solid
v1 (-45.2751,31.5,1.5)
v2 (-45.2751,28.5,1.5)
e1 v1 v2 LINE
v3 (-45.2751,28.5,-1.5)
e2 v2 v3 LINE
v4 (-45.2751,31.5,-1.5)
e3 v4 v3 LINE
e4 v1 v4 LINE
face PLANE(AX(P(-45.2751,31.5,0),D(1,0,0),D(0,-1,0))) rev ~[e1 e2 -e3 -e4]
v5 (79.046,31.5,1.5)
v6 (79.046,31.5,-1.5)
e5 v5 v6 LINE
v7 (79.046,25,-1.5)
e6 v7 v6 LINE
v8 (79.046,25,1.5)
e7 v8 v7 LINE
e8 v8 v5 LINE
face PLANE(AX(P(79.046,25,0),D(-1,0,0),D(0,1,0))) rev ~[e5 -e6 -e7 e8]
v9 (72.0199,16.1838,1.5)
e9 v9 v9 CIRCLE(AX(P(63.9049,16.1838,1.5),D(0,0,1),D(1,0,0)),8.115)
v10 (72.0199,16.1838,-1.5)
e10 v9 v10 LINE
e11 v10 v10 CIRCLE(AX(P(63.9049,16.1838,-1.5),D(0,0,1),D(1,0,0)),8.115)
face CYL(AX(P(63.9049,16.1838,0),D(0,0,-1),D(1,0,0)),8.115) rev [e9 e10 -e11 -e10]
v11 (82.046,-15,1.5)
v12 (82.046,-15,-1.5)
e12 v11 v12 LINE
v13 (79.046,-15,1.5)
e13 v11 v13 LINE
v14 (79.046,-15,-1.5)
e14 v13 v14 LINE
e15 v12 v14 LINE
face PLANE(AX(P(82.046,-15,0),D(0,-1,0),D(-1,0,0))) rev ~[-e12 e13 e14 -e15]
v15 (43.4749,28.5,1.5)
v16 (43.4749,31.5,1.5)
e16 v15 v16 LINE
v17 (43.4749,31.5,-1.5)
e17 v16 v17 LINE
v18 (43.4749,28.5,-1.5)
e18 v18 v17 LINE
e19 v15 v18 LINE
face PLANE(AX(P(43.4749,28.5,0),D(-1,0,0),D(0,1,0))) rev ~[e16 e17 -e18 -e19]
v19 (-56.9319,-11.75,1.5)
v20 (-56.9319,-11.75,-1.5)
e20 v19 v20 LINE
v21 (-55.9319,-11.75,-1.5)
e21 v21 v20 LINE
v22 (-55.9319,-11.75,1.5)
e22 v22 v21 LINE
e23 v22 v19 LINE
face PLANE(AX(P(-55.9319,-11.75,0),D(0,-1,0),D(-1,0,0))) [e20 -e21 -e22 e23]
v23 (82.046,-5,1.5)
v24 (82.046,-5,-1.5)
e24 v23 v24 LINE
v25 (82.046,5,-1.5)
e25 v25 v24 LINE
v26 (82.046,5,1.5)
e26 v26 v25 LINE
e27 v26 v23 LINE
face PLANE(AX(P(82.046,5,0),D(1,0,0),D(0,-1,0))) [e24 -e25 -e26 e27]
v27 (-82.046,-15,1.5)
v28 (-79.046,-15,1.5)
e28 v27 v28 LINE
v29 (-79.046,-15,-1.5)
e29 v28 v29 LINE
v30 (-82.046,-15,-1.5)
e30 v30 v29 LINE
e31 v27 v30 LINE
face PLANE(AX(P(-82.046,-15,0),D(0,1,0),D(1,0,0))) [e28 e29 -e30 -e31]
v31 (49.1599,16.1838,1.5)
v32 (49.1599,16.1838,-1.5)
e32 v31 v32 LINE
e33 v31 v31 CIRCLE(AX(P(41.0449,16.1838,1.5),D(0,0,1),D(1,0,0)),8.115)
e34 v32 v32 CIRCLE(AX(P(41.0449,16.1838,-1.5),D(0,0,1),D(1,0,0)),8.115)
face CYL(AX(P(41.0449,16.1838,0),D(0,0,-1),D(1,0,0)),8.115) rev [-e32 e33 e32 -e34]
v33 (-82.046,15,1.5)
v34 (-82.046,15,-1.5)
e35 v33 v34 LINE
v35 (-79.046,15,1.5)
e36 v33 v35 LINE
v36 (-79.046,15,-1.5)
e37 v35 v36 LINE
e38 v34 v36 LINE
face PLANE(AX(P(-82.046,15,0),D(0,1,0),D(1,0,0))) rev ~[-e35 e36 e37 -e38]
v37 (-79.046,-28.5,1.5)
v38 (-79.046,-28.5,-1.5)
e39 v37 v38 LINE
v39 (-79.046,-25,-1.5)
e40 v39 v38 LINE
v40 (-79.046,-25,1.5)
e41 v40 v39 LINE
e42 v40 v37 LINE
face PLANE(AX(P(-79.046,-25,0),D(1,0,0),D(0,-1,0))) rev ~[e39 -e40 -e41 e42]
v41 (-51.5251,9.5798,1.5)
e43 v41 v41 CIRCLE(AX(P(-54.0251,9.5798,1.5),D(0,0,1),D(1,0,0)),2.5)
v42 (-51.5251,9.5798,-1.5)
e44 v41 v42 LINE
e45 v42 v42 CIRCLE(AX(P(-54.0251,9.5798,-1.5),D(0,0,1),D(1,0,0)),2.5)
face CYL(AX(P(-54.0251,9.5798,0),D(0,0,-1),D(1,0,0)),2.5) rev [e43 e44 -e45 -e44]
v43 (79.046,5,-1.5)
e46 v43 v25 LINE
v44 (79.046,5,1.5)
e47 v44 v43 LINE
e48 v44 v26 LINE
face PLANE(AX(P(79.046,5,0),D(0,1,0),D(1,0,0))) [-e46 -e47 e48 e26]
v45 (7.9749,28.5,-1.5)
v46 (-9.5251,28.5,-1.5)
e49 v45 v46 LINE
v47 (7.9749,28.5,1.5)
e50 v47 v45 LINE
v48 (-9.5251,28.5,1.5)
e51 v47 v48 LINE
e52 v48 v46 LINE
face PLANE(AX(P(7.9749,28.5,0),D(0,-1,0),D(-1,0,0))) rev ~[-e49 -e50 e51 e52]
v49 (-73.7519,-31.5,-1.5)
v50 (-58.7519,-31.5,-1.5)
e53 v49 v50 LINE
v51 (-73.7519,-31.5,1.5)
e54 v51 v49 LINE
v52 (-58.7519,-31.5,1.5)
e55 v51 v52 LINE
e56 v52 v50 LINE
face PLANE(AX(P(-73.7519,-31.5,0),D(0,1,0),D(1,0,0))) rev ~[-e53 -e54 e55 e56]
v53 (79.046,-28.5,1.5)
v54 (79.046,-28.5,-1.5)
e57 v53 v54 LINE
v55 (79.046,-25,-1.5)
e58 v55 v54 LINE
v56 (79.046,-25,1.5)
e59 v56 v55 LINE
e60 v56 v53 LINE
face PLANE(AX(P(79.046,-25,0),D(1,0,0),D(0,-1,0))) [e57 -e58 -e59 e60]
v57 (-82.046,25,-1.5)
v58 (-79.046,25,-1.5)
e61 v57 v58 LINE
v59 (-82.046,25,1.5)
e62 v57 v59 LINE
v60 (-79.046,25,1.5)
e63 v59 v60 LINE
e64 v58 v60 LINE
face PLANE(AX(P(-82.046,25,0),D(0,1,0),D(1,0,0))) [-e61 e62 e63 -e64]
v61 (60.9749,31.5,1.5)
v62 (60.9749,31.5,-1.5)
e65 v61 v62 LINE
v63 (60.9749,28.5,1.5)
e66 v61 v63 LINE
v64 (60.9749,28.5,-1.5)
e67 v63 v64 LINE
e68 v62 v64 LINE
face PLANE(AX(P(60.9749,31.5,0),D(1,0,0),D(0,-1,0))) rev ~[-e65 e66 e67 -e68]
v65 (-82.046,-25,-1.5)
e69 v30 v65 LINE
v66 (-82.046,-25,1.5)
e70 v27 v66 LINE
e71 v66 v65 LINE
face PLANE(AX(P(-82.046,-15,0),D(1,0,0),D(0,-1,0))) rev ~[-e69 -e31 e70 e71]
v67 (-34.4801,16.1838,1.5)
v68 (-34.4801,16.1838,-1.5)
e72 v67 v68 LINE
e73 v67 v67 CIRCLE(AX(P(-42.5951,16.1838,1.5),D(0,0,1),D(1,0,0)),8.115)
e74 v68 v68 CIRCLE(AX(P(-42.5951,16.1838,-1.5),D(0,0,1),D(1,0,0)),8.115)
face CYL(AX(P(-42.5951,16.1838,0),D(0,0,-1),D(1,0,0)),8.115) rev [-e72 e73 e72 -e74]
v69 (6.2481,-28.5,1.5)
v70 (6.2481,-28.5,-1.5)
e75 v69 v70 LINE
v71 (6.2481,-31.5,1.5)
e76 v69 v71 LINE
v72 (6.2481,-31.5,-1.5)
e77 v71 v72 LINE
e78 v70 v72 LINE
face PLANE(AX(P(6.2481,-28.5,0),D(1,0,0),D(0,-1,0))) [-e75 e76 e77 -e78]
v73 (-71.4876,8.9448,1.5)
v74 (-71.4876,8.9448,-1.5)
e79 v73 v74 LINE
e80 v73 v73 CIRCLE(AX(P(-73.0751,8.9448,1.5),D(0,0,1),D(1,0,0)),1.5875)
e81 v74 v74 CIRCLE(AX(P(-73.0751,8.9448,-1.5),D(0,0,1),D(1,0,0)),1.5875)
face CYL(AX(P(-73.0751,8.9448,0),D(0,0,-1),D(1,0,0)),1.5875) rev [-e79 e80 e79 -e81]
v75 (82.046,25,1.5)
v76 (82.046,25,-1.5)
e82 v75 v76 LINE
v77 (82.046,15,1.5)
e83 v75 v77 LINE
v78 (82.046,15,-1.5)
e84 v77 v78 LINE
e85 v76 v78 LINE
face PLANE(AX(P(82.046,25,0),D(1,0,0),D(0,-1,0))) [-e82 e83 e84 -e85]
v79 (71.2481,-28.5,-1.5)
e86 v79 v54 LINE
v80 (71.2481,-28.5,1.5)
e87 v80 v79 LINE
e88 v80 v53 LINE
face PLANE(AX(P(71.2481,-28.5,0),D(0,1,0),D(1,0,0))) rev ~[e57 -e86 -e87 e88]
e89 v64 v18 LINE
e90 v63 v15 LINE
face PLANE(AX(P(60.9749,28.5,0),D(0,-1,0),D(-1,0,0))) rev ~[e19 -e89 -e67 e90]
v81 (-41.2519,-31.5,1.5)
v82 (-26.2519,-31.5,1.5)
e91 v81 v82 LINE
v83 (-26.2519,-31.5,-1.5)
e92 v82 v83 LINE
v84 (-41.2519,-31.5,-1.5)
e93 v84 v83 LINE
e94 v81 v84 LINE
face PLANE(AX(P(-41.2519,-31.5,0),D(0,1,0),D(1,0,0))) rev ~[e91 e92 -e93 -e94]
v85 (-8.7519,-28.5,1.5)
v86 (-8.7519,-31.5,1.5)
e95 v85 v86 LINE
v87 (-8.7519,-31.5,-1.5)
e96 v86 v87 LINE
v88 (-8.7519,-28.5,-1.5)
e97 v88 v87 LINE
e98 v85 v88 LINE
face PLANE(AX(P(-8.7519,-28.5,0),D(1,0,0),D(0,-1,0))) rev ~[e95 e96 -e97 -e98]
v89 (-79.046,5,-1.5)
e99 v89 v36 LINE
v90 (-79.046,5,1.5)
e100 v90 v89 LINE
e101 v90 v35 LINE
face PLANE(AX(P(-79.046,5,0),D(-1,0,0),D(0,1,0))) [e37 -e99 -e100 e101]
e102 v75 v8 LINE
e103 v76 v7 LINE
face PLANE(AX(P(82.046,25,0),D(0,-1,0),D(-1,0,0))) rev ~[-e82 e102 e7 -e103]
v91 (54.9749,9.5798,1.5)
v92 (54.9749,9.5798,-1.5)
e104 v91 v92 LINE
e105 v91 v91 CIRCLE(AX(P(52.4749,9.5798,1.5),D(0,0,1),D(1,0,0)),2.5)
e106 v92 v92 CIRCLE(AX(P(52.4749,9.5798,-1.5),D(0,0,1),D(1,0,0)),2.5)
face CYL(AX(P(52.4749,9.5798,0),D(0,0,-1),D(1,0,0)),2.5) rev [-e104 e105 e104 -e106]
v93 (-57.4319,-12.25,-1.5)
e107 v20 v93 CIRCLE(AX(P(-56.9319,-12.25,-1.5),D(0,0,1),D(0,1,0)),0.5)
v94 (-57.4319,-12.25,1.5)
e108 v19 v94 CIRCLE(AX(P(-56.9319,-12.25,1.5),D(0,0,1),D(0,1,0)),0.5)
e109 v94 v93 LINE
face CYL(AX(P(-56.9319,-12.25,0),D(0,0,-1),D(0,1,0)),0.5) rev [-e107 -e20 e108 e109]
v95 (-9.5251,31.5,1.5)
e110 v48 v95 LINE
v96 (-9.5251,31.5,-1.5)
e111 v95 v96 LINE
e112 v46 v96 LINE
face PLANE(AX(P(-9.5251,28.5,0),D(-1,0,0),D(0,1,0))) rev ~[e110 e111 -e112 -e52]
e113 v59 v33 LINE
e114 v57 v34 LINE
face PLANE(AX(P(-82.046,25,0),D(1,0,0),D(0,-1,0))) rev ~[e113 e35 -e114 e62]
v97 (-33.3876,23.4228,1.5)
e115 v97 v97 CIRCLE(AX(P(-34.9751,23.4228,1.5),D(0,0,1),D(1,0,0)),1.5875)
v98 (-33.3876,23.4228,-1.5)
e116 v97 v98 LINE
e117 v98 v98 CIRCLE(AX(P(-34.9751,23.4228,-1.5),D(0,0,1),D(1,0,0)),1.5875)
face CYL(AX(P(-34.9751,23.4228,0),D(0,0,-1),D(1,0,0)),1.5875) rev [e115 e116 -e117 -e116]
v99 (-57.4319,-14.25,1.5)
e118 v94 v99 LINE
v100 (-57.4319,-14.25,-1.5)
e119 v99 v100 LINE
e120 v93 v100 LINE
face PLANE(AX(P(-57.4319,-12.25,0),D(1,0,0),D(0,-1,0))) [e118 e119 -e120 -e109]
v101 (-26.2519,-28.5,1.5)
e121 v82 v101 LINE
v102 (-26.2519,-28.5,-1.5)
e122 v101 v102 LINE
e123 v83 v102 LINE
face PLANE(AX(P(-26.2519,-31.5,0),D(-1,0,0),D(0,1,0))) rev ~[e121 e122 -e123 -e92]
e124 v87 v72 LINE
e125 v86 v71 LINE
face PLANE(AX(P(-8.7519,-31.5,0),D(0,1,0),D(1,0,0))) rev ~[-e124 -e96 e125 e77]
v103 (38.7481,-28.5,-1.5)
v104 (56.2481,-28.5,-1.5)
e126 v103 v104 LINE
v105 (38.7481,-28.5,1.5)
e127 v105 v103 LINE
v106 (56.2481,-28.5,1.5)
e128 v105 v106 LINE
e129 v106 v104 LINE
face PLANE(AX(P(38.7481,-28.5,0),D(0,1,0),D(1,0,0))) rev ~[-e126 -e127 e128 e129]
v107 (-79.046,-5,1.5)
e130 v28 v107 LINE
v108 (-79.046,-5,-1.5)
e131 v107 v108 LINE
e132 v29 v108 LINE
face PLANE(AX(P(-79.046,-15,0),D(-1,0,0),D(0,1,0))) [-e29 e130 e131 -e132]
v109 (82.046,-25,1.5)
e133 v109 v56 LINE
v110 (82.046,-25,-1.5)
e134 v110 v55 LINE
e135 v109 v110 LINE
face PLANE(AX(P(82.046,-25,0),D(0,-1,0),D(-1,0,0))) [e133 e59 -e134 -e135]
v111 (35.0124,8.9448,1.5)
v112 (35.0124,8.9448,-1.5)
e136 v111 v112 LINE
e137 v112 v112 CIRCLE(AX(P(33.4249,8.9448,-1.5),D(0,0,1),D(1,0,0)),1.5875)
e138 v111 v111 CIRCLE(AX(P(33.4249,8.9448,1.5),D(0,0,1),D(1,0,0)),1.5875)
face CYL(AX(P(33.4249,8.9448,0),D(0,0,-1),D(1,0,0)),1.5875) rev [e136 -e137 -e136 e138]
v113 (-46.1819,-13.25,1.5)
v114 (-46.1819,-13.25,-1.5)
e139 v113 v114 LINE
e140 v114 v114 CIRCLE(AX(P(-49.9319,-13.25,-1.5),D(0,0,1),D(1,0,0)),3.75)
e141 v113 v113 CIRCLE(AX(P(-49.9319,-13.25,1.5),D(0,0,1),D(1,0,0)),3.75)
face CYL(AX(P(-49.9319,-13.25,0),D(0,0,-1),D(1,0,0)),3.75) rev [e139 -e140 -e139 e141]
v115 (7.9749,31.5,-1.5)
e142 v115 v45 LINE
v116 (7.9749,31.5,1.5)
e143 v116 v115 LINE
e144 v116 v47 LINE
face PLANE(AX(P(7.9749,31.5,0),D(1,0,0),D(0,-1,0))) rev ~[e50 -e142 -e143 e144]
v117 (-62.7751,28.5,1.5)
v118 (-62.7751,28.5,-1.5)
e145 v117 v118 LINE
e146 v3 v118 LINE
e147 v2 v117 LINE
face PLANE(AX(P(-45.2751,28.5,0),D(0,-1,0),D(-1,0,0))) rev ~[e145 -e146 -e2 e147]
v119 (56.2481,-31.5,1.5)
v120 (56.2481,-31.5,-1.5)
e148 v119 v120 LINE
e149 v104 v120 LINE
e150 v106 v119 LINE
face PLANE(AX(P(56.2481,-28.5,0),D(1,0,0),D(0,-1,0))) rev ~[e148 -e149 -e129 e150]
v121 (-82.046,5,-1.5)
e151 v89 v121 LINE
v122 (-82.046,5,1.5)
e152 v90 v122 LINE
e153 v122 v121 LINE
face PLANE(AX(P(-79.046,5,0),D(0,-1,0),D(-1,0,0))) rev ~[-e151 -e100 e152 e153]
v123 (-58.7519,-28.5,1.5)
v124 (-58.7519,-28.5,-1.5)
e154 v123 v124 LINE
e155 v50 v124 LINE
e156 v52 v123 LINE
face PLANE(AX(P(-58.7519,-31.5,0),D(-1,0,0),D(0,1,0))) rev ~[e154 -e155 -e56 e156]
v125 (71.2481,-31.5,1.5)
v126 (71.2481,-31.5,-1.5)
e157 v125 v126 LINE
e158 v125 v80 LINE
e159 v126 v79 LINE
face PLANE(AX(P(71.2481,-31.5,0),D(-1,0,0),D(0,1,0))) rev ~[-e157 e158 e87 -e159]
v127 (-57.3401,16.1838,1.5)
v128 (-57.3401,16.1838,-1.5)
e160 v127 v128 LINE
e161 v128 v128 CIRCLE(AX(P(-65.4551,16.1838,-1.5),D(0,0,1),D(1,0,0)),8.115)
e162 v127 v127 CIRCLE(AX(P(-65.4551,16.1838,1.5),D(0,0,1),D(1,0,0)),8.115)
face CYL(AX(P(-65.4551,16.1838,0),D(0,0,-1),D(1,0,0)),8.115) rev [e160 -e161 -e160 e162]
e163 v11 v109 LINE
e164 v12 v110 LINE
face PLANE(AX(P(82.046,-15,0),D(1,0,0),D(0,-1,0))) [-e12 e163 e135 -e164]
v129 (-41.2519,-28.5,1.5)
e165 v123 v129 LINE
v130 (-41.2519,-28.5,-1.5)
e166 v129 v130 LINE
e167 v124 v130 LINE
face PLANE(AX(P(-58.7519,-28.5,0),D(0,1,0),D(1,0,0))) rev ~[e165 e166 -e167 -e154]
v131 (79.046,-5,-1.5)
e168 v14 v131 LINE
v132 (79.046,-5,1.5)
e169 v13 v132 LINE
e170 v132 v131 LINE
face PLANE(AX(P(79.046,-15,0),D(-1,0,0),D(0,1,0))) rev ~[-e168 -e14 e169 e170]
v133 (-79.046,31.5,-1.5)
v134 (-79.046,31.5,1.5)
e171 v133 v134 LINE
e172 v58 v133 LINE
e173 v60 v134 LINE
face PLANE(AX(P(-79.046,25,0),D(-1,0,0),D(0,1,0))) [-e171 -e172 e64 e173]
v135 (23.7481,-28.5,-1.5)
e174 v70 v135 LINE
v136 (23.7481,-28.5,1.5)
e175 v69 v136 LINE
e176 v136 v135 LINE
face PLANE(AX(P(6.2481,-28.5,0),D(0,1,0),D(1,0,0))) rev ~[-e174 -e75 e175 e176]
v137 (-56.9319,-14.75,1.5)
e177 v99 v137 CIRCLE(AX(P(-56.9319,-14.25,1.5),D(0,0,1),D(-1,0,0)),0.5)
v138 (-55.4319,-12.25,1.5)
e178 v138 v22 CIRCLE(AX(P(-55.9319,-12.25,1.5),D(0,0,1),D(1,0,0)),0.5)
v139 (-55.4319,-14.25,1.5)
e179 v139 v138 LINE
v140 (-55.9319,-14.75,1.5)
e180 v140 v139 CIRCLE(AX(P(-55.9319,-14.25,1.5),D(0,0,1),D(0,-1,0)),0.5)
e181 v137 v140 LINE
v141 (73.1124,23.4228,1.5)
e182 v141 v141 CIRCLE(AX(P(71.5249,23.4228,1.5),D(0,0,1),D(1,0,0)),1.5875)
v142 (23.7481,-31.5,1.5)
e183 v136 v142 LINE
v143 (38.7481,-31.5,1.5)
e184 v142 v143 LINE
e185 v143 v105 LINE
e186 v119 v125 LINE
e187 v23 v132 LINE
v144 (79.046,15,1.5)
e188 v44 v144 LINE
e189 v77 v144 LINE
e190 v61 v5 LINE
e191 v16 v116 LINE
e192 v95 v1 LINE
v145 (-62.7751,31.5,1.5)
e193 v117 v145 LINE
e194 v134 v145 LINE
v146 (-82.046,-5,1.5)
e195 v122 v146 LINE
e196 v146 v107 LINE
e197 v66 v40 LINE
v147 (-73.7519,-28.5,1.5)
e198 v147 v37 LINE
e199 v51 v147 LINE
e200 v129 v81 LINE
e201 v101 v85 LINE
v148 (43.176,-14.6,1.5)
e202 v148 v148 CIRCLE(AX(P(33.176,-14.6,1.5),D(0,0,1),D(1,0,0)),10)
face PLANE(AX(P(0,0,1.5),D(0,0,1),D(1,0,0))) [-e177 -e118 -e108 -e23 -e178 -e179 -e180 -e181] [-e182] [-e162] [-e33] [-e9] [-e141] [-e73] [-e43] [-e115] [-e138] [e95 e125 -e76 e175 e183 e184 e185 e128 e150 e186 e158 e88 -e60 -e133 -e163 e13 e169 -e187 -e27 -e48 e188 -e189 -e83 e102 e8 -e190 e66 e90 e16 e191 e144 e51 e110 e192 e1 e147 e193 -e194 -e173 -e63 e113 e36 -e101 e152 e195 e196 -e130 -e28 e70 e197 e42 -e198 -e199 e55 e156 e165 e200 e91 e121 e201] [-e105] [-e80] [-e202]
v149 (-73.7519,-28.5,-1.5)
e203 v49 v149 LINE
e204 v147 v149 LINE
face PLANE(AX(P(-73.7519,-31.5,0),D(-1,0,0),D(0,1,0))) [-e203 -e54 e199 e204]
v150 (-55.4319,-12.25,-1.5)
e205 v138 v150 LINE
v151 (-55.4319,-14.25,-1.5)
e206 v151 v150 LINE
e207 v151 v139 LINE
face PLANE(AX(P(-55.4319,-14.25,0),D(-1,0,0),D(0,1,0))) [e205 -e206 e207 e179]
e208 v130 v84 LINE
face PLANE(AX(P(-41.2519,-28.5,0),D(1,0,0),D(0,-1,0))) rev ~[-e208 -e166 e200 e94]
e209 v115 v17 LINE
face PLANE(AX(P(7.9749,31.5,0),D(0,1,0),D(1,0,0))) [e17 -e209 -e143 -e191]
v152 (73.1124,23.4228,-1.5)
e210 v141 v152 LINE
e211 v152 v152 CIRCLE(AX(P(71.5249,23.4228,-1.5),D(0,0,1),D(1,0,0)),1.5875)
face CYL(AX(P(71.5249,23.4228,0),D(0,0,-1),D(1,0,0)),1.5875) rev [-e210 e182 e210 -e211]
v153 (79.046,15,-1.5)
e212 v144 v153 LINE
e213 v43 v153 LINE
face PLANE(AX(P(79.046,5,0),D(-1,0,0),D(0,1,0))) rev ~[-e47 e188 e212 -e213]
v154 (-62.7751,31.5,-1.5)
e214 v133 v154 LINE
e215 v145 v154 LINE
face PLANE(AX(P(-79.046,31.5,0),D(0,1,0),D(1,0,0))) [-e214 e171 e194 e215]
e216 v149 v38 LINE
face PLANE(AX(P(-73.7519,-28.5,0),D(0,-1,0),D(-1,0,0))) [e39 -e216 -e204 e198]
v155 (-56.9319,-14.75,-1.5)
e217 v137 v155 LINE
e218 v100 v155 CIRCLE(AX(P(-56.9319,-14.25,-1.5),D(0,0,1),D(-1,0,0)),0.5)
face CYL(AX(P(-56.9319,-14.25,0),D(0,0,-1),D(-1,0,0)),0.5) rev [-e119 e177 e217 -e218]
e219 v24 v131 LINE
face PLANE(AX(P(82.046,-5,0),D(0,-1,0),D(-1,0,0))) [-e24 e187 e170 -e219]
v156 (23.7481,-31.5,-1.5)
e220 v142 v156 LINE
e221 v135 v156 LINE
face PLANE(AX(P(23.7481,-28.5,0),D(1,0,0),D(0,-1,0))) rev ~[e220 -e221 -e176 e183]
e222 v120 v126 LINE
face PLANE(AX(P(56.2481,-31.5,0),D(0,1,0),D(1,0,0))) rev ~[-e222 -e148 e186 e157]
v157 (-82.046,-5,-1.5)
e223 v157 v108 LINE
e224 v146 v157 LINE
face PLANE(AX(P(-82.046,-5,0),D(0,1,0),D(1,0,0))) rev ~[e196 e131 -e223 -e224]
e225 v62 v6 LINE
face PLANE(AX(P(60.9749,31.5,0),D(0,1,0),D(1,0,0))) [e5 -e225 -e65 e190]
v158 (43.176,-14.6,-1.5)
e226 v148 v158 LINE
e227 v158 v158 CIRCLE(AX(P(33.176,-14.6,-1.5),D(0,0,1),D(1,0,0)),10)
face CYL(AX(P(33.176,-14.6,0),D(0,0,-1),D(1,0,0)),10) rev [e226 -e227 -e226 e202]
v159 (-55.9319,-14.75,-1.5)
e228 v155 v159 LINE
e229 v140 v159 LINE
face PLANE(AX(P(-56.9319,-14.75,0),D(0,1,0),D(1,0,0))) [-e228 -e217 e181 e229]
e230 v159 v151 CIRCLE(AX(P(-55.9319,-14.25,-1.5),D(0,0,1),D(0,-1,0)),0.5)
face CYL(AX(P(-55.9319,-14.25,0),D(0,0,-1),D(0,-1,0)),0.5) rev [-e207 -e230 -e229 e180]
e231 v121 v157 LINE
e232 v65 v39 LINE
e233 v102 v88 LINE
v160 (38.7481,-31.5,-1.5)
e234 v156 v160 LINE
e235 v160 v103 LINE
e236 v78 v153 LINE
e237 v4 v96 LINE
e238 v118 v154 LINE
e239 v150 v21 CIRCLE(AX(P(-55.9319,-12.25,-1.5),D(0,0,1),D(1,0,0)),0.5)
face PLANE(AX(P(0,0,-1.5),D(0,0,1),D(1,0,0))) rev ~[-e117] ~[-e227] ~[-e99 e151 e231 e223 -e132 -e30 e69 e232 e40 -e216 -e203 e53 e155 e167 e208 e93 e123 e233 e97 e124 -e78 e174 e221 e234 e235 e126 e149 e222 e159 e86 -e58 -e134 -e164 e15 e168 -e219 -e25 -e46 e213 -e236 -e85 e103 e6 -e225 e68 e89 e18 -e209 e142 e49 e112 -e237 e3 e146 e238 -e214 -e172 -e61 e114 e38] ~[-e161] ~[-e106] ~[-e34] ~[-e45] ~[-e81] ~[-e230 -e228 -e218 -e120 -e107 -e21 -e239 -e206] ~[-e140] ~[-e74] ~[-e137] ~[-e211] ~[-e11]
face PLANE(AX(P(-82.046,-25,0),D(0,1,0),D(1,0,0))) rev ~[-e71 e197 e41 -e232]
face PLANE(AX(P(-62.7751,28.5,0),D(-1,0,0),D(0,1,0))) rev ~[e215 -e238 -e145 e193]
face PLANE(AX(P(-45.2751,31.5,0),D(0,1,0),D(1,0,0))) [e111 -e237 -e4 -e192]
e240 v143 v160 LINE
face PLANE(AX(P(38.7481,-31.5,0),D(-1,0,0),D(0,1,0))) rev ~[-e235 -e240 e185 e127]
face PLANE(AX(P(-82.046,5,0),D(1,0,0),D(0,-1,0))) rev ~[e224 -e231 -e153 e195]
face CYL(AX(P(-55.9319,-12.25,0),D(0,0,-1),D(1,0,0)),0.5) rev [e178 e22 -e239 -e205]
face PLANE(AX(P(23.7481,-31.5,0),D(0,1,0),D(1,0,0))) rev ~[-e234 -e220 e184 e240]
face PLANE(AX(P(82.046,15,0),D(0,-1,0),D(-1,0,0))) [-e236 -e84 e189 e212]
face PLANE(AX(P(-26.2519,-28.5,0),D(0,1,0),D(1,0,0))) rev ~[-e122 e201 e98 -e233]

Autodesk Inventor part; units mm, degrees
ref_plane "YZ Plane" through (0, 0, 0) normal (1, 0, 0) x (0, 1, 0)
ref_plane "XZ Plane" through (0, 0, 0) normal (0, 1, 0) x (-1, 0, 0)
ref_plane "XY Plane" through (0, 0, 0) normal (0, 0, 1) x (1, 0, 0)
sketch "Sketch1" plane through (0, 0, 0) normal (0, 0, 1) x (1, 0, 0)
  line L0 (-79.046, 31.5) -> (-62.7751, 31.5)
  line L1 (-62.7751, 28.5) -> (-62.7751, 31.5)
  line L2 (-45.2751, 28.5) -> (-62.7751, 28.5)
  line L3 (-45.2751, 31.5) -> (-45.2751, 28.5)
  line L4 (-45.2751, 31.5) -> (-26.3822, 31.5)
  line L5 (-26.3822, 31.5) -> (-9.5251, 31.5)
  line L6 (-9.5251, 28.5) -> (-9.5251, 31.5)
  line L7 (7.9749, 28.5) -> (-9.5251, 28.5)
  line L8 (7.9749, 31.5) -> (7.9749, 28.5)
  line L9 (7.9749, 31.5) -> (24.8319, 31.5)
  line L10 (24.8319, 31.5) -> (43.4749, 31.5)
  line L11 (43.4749, 28.5) -> (43.4749, 31.5)
  line L12 (60.9749, 28.5) -> (43.4749, 28.5)
  line L13 (60.9749, 31.5) -> (60.9749, 28.5)
  line L14 (60.9749, 31.5) -> (79.046, 31.5)
  circle A0 centre (-73.0751, 8.9448) radius 1.5875
  circle A1 centre (-65.4551, 16.1838) radius 8.115
  circle A2 centre (-42.5951, 16.1838) radius 8.115
  circle A3 centre (-54.0251, 9.5798) radius 2.5
  circle A4 centre (-34.9751, 23.4228) radius 1.5875
  circle A5 centre (33.4249, 8.9448) radius 1.5875
  circle A6 centre (52.4749, 9.5798) radius 2.5
  circle A7 centre (41.0449, 16.1838) radius 8.115
  circle A8 centre (63.9049, 16.1838) radius 8.115
  circle A9 centre (71.5249, 23.4228) radius 1.5875
  line L15 (-79.046, 31.5) -> (79.046, -31.5) construction
  line L16 (79.046, 31.5) -> (-79.046, -31.5) construction
  line L17 (-8.7519, -31.5) -> (6.2481, -31.5)
  line L18 (-8.7519, -31.5) -> (6.2481, -28.5) construction
  line L19 (6.2481, -31.5) -> (-8.7519, -28.5) construction
  line L20 (-41.2519, -31.5) -> (-26.2519, -31.5)
  line L21 (-73.7519, -31.5) -> (-58.7519, -31.5)
  line L22 (23.7481, -31.5) -> (38.7481, -31.5)
  line L23 (-8.7519, -31.5) -> (6.2481, -31.5)
  line L24 (-41.2519, -31.5) -> (-26.2519, -31.5)
  line L25 (56.2481, -31.5) -> (71.2481, -31.5)
  line L26 (23.7481, -31.5) -> (38.7481, -31.5)
  line L27 (-8.7519, -31.5) -> (6.2481, -31.5)
  line L28 (-58.7519, -31.5) -> (-58.7519, -28.5)
  line L29 (-58.7519, -28.5) -> (-41.2519, -28.5)
  line L30 (-41.2519, -28.5) -> (-41.2519, -31.5)
  line L31 (-26.2519, -31.5) -> (-26.2519, -28.5)
  line L32 (-26.2519, -28.5) -> (-8.7519, -28.5)
  line L33 (-8.7519, -28.5) -> (-8.7519, -31.5)
  line L34 (6.2481, -28.5) -> (23.7481, -28.5)
  line L35 (23.7481, -28.5) -> (23.7481, -31.5)
  line L36 (38.7481, -31.5) -> (38.7481, -28.5)
  line L37 (38.7481, -28.5) -> (56.2481, -28.5)
  line L38 (56.2481, -28.5) -> (56.2481, -31.5)
  line L39 (71.2481, -31.5) -> (71.2481, -28.5)
  line L40 (71.2481, -28.5) -> (79.046, -28.5)
  line L41 (-73.7519, -31.5) -> (-73.7519, -28.5)
  line L42 (-73.7519, -28.5) -> (-79.046, -28.5)
  line L43 (-79.046, 5) -> (-82.046, 5)
  line L44 (-82.046, 5) -> (-82.046, -5)
  line L45 (-82.046, -5) -> (-79.046, -5)
  line L46 (-79.046, 5) -> (-82.046, -5) construction
  line L47 (-82.046, 5) -> (-79.046, -5) construction
  line L48 (0, 0) -> (0, 17) construction
  line L49 (-82.046, 25) -> (-82.046, 15)
  line L50 (-82.046, -15) -> (-82.046, -25)
  line L51 (-82.046, 5) -> (-82.046, -5)
  line L52 (-82.046, 25) -> (-79.046, 25)
  line L53 (-82.046, 15) -> (-79.046, 15)
  line L54 (-82.046, -15) -> (-79.046, -15)
  line L55 (-82.046, -25) -> (-79.046, -25)
  line L56 (-79.046, -25) -> (-79.046, -28.5)
  line L57 (-79.046, -15) -> (-79.046, -5)
  line L58 (-79.046, 5) -> (-79.046, 15)
  line L59 (-79.046, 25) -> (-79.046, 31.5)
  line L60 (79.046, 5) -> (82.046, 5)
  line L61 (82.046, 5) -> (82.046, -5)
  line L62 (82.046, -5) -> (79.046, -5)
  line L63 (79.046, 5) -> (82.046, -5) construction
  line L64 (82.046, 5) -> (79.046, -5) construction
  line L65 (82.046, 25) -> (82.046, 15)
  line L66 (82.046, -15) -> (82.046, -25)
  line L67 (82.046, 5) -> (82.046, -5)
  line L68 (82.046, 25) -> (79.046, 25)
  line L69 (82.046, 15) -> (79.046, 15)
  line L70 (82.046, -15) -> (79.046, -15)
  line L71 (82.046, -25) -> (79.046, -25)
  line L72 (79.046, -25) -> (79.046, -28.5)
  line L73 (79.046, -15) -> (79.046, -5)
  line L74 (79.046, 5) -> (79.046, 15)
  line L75 (79.046, 25) -> (79.046, 31.5)
  line L76 (6.2481, -28.5) -> (6.2481, -31.5)
  circle A10 centre (33.176, -14.6) radius 10
  line L77 (-55.4319, -14.25) -> (-55.4319, -12.25)
  line L78 (-57.4319, -12.25) -> (-57.4319, -14.25)
  arc A11 (-57.4319, -14.25) -> (-56.9319, -14.75) centre (-56.9319, -14.25) ccw
  line L79 (-56.9319, -14.75) -> (-55.9319, -14.75)
  arc A12 (-55.9319, -14.75) -> (-55.4319, -14.25) centre (-55.9319, -14.25) ccw
  arc A13 (-55.4319, -12.25) -> (-55.9319, -11.75) centre (-55.9319, -12.25) ccw
  arc A14 (-56.9319, -11.75) -> (-57.4319, -12.25) centre (-56.9319, -12.25) ccw
  line L80 (-55.9319, -11.75) -> (-56.9319, -11.75)
  circle A15 centre (-49.9319, -13.25) radius 3.75
  point P0 (0, 0)
  point P1 (-1.2519, -30)
  point P2 (-80.546, 0)
  point P3 (80.546, 0)
  dimension "d4" = 15
  dimension "d5" = 3
  dimension "d10" = 32.5
  dimension "d13" = 32.5
  dimension "d17" = 3
  dimension "d18" = 10
  dimension "d21" = 20
  dimension "d24" = 20
extrude "Extrusion2" add sketch "Sketch1" along normal mid plane 3
properties part number "srfsampingkanan"
